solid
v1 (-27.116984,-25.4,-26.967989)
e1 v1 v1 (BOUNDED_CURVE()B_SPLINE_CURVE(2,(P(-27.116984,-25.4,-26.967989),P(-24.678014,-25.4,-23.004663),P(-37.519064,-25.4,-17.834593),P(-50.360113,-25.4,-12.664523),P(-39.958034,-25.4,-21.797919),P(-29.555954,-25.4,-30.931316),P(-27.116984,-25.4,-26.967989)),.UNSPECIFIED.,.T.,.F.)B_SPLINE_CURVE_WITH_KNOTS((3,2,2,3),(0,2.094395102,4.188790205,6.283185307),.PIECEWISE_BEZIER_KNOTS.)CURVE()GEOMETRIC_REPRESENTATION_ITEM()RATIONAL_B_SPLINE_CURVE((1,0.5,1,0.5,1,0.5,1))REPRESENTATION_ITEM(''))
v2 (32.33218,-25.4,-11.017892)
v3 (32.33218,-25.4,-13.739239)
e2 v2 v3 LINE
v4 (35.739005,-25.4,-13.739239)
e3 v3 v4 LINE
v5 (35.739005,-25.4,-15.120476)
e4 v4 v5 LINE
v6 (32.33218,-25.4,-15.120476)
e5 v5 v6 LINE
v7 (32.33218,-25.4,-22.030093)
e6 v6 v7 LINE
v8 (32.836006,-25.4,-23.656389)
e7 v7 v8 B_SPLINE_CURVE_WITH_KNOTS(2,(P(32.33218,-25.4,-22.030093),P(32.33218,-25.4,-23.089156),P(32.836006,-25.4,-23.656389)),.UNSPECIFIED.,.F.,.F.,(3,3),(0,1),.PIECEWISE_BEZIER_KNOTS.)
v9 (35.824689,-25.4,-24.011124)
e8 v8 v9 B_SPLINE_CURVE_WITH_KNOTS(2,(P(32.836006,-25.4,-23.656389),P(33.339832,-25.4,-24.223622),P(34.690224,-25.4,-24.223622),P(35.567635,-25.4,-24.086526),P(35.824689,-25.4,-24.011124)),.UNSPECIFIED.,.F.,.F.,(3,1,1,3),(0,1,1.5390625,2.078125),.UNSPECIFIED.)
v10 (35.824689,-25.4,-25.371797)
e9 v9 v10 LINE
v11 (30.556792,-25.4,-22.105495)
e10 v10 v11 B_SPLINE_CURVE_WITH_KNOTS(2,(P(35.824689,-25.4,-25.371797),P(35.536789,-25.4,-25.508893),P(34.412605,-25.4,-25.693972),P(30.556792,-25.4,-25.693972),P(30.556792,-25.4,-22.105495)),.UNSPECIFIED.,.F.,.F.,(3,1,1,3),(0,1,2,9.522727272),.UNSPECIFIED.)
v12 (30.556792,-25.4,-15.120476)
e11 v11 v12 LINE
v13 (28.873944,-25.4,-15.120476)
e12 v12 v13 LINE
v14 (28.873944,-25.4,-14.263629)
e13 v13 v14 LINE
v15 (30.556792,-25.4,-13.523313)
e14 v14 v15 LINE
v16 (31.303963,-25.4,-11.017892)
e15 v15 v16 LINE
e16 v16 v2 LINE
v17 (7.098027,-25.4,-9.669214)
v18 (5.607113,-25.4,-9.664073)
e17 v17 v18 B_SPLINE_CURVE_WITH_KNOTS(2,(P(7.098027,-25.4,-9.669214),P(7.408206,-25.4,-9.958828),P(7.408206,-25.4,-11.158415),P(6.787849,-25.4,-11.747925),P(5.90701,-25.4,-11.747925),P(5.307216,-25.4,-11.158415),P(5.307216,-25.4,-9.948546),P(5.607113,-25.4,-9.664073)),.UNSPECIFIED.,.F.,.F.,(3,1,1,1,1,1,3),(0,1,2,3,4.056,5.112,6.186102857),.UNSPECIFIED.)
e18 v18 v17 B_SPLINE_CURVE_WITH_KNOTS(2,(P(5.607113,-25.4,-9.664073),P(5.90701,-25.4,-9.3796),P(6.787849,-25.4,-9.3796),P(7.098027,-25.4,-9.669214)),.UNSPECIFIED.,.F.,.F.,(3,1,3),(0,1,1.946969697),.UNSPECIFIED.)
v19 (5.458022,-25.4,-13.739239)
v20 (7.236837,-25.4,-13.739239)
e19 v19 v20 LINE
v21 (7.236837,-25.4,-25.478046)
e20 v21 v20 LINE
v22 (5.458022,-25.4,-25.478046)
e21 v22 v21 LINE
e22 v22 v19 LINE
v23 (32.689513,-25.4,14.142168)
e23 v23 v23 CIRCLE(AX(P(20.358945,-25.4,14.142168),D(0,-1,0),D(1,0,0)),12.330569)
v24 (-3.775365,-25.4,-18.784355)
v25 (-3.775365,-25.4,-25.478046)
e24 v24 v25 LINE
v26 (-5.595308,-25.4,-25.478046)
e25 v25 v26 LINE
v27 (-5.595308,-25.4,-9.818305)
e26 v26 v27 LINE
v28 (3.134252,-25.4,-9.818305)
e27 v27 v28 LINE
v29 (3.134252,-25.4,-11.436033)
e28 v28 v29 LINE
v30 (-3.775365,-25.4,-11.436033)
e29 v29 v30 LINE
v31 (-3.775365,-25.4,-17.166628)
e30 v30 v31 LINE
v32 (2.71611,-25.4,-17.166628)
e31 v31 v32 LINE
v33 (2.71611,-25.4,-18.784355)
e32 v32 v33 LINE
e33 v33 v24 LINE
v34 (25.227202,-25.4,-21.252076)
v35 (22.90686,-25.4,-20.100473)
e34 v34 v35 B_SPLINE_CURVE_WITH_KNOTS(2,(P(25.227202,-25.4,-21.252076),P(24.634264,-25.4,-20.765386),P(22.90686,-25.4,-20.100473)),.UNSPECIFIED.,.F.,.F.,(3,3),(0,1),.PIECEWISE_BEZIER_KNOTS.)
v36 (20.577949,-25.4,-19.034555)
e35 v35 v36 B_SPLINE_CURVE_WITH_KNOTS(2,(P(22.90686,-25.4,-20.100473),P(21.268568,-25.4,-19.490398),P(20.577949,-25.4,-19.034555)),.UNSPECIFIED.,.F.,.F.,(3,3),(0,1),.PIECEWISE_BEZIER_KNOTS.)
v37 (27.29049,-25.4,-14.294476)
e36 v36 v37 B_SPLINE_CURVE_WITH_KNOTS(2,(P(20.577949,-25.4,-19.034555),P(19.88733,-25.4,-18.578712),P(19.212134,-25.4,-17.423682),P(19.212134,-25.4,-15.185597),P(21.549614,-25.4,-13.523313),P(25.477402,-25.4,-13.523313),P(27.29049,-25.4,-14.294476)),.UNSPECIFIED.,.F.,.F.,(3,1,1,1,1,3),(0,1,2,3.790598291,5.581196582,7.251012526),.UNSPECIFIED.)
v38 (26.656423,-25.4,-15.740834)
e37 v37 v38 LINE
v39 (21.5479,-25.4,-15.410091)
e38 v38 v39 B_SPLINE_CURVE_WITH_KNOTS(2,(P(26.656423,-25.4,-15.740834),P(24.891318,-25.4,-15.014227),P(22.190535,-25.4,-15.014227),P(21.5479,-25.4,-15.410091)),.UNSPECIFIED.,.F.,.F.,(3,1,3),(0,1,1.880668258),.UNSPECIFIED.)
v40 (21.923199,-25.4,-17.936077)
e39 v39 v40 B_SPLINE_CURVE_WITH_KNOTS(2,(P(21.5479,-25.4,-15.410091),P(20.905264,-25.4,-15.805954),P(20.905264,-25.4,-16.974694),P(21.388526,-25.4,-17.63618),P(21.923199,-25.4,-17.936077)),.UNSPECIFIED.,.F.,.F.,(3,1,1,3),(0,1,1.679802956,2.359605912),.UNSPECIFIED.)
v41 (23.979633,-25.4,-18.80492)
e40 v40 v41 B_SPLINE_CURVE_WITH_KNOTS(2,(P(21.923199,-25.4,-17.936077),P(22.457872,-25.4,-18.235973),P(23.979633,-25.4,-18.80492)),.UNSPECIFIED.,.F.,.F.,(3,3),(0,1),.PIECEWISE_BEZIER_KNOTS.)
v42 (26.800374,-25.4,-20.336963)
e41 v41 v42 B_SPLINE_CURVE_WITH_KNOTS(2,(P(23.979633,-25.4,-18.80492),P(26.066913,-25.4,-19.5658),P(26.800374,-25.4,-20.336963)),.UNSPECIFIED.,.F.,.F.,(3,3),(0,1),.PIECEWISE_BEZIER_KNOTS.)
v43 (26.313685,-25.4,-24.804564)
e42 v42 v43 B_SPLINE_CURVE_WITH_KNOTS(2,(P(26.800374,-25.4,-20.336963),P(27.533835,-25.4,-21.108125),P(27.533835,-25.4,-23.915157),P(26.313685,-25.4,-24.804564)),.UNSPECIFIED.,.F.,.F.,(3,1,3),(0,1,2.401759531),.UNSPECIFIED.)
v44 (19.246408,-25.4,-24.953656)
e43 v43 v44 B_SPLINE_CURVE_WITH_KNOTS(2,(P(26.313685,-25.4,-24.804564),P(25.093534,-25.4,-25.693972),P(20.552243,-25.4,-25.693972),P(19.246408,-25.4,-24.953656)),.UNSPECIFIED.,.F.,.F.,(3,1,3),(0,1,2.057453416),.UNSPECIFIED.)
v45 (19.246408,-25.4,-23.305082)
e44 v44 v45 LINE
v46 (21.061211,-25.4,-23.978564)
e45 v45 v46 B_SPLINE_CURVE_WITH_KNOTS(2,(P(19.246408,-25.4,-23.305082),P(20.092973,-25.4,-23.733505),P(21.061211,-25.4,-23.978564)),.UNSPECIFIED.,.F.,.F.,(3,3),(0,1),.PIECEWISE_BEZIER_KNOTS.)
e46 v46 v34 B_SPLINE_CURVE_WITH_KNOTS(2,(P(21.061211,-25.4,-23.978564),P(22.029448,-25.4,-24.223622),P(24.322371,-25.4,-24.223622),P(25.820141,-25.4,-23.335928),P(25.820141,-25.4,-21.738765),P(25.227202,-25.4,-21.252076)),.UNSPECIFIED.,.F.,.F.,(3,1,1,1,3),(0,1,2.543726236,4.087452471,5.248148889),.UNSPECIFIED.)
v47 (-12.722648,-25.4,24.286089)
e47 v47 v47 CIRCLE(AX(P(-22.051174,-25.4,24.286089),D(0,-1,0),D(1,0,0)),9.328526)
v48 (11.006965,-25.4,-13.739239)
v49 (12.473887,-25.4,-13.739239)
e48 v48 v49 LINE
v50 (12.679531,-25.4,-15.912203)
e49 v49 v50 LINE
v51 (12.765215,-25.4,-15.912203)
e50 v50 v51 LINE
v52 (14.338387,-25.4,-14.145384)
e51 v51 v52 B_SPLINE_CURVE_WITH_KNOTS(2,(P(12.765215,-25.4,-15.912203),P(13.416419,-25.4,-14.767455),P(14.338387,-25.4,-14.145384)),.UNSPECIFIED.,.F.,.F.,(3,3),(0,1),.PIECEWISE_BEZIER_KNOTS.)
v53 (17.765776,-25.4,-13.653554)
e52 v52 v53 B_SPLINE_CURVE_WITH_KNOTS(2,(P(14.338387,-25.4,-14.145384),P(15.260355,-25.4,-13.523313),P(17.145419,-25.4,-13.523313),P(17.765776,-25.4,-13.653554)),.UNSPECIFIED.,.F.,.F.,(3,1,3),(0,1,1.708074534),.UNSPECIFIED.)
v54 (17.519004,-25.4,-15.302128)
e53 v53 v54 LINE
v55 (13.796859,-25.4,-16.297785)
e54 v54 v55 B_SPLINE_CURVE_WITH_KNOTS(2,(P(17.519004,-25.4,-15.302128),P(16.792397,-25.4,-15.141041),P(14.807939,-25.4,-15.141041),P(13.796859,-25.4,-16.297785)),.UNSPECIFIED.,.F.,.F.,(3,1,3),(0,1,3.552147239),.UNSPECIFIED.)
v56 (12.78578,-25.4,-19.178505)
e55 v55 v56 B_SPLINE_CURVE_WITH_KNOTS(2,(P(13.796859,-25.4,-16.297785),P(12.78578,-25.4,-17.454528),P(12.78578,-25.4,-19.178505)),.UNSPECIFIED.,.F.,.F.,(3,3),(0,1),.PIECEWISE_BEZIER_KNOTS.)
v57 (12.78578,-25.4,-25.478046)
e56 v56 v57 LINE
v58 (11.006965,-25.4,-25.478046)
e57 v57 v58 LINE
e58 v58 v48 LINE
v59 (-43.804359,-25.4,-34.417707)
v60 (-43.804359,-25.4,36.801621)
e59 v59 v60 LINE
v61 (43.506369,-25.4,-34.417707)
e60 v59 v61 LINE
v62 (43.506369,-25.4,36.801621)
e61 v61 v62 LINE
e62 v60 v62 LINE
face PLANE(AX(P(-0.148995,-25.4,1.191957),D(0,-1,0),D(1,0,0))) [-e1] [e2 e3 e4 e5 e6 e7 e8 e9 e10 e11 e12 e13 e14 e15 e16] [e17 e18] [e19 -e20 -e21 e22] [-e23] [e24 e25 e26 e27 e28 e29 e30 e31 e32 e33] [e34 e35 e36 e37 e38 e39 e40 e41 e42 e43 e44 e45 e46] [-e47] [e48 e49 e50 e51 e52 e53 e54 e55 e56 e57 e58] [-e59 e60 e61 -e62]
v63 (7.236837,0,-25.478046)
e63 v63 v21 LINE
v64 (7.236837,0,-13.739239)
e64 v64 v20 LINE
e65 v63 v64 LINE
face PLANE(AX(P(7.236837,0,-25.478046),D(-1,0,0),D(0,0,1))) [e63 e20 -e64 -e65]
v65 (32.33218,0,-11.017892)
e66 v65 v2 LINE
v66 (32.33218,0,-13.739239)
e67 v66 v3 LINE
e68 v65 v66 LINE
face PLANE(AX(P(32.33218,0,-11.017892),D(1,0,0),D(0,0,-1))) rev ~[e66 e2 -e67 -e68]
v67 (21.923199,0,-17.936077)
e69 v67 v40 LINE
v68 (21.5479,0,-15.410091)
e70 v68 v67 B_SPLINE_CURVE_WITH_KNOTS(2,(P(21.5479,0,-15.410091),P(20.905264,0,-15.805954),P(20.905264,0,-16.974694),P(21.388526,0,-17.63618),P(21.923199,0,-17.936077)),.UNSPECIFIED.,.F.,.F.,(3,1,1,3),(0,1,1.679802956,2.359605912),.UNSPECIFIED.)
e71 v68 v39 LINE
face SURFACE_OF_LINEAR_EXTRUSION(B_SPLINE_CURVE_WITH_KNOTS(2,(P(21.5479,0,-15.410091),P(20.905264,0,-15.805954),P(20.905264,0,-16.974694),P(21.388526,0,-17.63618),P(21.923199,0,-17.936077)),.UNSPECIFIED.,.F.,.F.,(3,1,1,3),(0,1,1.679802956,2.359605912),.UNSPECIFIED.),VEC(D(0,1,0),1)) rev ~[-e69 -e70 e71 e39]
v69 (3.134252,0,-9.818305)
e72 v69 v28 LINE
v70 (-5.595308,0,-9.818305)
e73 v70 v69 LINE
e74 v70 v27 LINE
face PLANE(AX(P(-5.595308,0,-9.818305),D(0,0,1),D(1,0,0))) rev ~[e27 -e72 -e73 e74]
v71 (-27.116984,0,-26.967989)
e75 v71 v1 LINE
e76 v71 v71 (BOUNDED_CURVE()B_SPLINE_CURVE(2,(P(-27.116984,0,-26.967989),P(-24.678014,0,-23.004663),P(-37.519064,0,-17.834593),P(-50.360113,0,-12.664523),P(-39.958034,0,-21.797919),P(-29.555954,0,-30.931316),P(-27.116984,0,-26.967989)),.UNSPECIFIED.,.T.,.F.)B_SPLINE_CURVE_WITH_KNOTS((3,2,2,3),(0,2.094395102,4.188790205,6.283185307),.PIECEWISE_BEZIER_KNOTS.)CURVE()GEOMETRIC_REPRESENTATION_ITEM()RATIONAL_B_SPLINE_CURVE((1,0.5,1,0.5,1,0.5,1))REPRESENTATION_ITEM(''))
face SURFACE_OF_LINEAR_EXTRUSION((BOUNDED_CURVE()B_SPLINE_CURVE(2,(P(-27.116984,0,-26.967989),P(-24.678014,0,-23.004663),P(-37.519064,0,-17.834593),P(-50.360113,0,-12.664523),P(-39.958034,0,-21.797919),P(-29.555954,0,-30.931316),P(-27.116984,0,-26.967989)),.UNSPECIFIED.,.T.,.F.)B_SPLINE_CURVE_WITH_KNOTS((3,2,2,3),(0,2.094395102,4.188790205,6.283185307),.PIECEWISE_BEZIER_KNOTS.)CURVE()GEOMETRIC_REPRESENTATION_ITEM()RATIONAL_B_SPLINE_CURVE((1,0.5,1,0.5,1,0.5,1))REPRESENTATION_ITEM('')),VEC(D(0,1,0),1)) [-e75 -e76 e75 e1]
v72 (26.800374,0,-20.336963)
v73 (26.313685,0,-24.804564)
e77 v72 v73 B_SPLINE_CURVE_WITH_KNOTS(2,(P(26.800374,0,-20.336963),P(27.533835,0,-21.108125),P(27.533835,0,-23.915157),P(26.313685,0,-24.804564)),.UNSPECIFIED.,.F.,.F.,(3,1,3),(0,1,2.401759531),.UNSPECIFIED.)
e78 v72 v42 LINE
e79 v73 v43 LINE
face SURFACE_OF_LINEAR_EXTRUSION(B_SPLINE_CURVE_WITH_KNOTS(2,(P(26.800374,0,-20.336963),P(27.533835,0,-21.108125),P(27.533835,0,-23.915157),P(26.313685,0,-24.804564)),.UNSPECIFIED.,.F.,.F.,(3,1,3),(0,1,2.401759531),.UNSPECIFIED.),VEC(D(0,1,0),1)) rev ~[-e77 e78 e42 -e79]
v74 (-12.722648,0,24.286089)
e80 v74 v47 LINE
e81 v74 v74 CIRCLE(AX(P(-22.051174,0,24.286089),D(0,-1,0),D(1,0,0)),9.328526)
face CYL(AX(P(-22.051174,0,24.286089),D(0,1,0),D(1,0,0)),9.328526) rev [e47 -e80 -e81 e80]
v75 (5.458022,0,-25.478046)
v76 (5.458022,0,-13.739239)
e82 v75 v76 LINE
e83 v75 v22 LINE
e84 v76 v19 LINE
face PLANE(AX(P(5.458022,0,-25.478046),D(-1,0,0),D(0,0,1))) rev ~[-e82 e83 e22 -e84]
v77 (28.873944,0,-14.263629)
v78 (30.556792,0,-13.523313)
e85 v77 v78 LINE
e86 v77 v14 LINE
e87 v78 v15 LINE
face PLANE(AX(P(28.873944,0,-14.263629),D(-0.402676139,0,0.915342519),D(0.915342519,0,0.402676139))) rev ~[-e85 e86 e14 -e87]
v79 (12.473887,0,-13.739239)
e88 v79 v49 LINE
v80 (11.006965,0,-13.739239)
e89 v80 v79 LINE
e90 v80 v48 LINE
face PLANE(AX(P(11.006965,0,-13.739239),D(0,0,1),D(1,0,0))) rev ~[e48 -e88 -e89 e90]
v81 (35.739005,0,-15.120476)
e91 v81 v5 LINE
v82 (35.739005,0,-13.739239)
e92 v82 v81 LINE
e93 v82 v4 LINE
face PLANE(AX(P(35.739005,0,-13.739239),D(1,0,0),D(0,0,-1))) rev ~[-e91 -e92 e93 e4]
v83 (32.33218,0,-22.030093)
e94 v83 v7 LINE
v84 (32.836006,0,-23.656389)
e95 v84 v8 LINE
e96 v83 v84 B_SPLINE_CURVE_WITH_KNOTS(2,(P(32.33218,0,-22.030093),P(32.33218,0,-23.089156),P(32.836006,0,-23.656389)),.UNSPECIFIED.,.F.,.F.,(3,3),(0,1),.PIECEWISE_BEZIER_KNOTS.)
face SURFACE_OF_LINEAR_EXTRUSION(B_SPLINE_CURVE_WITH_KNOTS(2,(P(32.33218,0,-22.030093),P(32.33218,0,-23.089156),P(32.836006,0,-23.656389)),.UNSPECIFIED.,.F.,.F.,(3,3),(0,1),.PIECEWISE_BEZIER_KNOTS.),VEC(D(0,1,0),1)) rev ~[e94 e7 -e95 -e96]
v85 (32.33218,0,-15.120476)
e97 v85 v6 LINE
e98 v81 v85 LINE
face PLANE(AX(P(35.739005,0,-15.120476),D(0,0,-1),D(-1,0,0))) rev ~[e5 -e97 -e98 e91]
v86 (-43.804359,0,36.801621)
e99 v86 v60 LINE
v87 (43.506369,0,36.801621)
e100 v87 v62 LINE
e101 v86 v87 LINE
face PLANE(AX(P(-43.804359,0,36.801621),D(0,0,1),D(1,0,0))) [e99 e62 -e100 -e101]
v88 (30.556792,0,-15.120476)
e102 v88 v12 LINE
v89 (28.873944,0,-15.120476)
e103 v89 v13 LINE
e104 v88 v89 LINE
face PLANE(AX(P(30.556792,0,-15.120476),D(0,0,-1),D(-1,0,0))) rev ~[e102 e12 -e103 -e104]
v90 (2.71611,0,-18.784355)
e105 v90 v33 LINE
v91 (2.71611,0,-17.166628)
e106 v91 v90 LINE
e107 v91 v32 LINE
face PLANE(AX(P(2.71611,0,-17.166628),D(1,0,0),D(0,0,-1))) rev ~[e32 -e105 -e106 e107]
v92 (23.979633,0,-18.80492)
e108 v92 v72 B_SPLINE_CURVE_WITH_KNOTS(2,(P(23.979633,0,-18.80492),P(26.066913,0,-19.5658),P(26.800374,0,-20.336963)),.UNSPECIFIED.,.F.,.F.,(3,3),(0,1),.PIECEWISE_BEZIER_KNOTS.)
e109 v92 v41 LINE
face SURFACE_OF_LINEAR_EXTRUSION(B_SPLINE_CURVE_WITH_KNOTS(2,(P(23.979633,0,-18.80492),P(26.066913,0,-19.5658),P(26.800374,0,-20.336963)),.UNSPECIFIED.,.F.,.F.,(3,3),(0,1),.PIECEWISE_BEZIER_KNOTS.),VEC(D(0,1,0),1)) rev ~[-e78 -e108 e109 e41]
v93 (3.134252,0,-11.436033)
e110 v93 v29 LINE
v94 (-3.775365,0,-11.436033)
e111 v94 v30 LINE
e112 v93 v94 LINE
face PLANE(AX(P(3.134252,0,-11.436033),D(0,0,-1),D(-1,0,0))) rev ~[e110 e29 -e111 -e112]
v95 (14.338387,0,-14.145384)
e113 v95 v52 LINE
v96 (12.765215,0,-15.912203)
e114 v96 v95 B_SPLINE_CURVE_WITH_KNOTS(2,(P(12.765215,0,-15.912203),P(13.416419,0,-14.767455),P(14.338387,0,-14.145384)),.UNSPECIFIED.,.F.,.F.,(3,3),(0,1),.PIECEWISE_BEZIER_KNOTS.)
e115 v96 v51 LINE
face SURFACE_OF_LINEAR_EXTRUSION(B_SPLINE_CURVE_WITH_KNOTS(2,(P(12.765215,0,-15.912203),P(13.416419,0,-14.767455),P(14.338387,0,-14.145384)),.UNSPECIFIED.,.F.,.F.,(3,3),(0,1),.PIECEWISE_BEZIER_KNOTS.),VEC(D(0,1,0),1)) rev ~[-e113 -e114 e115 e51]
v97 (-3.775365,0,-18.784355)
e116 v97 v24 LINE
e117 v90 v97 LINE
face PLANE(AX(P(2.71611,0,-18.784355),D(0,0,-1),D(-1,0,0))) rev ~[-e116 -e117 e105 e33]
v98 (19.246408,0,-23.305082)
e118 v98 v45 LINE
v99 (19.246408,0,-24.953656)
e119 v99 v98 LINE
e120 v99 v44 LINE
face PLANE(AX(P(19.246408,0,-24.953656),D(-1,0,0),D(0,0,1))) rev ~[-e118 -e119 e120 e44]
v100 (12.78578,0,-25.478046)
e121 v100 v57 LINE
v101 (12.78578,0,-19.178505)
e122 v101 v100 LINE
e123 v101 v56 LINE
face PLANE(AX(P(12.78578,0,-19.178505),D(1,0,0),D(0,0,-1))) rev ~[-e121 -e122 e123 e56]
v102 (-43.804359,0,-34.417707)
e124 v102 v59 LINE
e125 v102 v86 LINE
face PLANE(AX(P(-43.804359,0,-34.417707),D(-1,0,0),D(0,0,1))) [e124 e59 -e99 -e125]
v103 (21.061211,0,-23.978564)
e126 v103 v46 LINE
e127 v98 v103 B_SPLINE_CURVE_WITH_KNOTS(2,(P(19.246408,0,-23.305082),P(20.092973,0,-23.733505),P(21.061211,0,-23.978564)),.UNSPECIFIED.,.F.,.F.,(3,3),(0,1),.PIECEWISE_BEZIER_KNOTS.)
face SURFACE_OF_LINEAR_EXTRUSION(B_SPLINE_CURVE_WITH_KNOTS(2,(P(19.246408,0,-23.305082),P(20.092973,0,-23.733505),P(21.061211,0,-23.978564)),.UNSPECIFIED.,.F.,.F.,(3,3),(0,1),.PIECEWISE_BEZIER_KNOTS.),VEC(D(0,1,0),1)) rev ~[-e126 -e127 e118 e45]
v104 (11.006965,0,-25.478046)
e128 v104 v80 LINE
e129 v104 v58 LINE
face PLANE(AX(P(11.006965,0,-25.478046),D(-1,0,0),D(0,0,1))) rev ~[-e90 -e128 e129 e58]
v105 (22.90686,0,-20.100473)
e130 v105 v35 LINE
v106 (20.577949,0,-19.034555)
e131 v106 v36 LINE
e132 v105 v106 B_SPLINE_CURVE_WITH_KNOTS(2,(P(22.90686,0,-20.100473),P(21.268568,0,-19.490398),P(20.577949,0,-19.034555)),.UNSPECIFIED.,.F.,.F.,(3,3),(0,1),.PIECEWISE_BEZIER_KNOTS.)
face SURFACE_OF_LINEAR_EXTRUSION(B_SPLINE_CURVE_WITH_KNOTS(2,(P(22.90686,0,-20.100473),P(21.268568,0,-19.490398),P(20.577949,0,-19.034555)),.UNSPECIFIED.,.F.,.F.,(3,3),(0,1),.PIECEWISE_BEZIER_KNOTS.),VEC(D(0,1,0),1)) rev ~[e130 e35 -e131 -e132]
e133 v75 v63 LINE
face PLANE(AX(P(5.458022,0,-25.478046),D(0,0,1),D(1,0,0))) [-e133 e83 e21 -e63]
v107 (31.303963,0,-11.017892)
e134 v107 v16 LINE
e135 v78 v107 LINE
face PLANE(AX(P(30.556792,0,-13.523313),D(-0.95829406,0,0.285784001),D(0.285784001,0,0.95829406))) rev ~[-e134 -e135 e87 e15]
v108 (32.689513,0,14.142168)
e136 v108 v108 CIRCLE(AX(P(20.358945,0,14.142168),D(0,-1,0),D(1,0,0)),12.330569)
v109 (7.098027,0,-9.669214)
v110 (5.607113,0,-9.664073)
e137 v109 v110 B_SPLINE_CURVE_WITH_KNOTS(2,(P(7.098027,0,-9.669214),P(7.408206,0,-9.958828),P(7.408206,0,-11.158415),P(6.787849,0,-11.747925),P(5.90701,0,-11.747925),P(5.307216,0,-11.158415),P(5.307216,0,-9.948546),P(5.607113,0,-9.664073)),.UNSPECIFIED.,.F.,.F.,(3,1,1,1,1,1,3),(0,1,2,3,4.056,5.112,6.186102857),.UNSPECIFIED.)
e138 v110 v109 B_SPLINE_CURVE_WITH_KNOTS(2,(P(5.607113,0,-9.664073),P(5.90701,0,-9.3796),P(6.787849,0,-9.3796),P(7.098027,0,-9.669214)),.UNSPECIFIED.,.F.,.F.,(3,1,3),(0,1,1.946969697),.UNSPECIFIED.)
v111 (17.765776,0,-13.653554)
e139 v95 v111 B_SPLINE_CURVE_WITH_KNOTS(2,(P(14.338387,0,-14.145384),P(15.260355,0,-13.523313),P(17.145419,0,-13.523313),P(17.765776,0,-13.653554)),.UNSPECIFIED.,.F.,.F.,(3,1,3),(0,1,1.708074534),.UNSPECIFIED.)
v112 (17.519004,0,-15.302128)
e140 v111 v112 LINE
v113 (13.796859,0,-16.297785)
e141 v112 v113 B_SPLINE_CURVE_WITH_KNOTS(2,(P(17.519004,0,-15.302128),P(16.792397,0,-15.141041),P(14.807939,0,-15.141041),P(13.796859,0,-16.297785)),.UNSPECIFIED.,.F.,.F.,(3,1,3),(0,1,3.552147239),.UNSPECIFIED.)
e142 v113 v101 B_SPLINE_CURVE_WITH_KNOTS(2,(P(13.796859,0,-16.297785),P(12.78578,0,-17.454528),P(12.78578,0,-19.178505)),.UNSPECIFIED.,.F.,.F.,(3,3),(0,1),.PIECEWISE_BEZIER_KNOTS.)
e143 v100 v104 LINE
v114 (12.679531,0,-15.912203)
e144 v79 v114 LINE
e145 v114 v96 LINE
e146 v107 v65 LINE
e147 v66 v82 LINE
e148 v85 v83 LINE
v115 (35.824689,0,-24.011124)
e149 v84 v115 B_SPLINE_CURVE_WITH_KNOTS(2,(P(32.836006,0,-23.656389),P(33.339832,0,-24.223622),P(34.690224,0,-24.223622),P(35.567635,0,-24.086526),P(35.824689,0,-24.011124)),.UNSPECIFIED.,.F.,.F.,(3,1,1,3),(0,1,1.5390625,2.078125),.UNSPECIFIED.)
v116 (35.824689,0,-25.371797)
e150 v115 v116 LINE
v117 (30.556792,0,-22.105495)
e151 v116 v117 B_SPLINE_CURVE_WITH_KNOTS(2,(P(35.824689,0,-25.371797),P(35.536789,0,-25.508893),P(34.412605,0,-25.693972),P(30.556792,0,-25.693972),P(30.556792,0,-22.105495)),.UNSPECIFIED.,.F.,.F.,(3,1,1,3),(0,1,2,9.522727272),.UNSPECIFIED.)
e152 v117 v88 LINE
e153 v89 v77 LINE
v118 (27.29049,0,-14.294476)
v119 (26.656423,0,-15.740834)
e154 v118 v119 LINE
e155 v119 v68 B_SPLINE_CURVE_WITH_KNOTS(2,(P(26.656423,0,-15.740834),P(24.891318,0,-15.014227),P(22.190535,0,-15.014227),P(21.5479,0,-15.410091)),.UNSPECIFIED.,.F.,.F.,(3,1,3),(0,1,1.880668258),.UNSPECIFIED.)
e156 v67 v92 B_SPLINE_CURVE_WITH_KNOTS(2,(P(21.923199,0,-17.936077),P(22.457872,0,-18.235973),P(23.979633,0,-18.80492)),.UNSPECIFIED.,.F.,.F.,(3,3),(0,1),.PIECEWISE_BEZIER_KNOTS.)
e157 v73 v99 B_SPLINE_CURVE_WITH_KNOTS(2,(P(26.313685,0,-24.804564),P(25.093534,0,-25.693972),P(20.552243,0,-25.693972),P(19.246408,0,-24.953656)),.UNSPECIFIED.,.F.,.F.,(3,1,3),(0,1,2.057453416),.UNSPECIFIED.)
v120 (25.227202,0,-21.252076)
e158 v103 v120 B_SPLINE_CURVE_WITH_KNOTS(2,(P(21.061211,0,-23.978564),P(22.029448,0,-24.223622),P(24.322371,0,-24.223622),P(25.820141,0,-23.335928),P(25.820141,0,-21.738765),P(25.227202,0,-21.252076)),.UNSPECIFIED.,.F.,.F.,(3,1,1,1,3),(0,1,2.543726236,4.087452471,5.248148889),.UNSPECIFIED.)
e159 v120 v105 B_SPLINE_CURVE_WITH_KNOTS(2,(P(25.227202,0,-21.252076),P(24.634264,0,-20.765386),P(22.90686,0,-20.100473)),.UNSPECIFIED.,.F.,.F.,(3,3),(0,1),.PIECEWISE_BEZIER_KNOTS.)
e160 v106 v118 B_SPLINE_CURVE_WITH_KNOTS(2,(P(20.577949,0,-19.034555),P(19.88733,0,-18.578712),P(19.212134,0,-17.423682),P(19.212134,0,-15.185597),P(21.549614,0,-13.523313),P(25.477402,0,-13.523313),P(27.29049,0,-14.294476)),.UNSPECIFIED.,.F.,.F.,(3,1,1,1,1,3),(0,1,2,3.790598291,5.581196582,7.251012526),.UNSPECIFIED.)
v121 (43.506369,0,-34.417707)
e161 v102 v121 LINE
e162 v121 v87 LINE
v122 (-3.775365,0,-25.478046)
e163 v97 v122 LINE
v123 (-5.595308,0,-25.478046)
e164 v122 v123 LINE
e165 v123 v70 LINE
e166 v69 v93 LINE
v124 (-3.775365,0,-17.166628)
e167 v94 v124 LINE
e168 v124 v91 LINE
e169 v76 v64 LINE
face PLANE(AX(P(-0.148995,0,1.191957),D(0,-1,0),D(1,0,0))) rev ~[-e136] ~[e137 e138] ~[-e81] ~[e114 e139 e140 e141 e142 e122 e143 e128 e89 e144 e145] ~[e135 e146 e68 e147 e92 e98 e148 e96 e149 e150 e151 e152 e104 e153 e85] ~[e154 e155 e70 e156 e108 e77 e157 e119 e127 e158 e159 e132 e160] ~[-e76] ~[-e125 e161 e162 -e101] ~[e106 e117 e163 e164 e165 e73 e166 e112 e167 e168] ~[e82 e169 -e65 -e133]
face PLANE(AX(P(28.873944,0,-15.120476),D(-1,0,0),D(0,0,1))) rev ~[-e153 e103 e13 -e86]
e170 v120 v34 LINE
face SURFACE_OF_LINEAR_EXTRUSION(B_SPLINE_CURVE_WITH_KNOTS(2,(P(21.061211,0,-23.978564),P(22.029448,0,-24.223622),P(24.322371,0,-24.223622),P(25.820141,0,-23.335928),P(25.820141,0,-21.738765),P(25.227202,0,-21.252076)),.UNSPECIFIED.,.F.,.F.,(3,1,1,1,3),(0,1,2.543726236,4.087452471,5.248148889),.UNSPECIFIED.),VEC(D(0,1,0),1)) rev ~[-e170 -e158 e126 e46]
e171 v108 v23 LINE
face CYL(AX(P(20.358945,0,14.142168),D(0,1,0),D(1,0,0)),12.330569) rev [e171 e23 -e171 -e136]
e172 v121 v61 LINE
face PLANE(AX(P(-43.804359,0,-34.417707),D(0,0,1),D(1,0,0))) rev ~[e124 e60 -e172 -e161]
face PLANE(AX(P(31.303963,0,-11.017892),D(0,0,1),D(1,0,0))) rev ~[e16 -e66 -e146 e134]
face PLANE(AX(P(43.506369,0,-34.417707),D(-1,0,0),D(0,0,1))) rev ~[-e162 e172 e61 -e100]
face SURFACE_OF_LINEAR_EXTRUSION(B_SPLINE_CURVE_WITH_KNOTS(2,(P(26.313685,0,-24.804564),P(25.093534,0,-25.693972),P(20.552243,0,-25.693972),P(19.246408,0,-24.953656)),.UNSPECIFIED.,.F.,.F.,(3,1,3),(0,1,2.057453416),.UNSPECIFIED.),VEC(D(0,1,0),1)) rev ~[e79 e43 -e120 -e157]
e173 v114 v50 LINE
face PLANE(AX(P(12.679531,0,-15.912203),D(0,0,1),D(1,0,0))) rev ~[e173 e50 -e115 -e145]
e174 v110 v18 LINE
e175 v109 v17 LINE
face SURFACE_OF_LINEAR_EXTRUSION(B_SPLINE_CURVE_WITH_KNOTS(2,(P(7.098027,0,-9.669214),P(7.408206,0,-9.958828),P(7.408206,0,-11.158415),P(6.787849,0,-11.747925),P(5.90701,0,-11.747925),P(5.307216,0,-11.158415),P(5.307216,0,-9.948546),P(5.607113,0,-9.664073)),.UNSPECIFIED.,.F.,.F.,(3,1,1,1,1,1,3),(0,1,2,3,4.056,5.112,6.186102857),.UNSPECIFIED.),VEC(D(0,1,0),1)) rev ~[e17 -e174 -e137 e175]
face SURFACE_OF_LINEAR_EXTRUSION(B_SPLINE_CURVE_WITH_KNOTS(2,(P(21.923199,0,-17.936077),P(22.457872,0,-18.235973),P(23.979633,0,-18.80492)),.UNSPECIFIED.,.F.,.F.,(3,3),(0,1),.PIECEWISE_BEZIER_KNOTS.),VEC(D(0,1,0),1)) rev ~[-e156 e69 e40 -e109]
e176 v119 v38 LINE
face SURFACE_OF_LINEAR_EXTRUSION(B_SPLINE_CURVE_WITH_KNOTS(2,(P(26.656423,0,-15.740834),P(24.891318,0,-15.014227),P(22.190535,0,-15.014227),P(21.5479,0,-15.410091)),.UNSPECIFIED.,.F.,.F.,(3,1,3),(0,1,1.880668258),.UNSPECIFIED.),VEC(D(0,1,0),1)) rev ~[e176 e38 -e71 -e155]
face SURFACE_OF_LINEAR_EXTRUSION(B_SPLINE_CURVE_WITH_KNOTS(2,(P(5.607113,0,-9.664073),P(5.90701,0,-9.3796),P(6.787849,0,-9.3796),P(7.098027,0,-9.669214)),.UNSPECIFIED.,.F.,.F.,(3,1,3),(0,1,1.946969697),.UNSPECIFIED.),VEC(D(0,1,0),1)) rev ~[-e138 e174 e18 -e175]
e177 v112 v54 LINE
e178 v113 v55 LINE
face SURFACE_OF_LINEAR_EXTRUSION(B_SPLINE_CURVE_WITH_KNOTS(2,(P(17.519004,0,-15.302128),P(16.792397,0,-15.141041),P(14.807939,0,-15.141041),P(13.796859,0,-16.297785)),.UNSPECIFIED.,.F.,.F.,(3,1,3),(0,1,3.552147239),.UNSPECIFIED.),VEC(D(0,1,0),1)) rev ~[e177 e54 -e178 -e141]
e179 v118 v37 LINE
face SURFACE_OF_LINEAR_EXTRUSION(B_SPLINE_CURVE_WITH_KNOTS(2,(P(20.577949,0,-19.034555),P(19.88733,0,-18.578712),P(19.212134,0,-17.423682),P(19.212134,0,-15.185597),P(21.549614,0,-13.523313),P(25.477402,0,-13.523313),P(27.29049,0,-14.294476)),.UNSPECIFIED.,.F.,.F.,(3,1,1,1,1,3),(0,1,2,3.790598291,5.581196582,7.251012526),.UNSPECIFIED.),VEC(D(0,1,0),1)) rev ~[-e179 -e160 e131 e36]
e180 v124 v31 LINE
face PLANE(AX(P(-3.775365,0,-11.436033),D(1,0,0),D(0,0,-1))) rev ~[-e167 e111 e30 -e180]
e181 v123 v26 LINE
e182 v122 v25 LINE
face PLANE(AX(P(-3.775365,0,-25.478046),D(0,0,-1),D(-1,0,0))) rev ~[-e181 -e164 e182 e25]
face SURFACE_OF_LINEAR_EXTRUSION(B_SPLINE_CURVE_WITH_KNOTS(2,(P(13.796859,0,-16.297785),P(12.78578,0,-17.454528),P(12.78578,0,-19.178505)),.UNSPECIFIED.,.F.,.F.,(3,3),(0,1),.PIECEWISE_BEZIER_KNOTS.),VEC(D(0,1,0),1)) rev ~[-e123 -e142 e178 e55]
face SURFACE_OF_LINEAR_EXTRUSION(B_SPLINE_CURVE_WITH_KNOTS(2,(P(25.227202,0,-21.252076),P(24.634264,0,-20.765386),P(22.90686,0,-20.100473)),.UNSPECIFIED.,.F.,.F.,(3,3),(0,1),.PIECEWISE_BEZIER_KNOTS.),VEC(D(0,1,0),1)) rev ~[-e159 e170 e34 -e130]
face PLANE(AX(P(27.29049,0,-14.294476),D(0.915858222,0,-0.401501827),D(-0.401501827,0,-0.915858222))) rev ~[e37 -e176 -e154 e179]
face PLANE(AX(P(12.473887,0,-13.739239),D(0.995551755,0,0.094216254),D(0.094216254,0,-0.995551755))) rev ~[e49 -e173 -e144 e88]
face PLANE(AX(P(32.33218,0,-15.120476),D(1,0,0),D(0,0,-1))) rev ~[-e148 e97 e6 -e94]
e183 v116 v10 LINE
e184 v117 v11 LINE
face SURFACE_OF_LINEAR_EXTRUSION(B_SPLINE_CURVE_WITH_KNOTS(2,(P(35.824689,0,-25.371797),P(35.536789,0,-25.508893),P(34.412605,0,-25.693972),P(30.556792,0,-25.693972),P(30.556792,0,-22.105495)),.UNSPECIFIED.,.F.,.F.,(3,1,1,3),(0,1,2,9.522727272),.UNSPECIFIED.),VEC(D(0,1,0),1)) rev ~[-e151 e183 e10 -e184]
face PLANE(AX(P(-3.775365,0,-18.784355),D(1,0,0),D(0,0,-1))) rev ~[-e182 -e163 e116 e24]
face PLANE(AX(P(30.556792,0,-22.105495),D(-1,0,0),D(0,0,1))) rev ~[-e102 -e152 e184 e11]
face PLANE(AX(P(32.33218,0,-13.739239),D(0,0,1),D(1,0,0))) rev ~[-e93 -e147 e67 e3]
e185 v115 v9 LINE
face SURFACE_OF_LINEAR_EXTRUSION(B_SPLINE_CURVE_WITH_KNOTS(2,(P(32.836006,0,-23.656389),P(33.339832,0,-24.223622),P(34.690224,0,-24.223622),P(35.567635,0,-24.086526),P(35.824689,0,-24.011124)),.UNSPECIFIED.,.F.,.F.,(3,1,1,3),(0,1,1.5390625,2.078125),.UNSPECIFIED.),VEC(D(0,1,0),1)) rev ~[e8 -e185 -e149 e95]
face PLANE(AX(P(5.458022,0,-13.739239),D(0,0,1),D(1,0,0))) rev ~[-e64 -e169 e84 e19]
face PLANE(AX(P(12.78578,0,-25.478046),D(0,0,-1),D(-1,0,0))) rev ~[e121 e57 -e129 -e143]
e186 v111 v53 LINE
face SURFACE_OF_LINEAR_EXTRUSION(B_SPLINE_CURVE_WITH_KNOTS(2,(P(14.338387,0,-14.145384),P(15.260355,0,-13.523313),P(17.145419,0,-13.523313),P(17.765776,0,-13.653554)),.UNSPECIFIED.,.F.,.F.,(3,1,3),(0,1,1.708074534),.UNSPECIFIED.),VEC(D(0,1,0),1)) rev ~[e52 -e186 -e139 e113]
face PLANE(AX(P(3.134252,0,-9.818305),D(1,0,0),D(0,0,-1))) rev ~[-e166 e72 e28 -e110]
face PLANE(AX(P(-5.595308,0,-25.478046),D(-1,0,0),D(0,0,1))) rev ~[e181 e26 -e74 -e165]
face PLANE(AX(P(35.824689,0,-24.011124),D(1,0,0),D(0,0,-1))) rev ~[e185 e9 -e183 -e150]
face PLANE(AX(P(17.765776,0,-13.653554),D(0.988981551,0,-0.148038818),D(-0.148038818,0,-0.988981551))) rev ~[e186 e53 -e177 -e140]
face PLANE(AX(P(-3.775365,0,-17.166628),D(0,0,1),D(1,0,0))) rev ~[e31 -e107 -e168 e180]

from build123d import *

# Parameters (mm, degrees)
F0_W     = 87.3107276857
F0_H     = 71.2193287909
F0_W_2   = 1.7788149683
F0_H_2   = 11.7388078353
F0_R     = 9.3285263882
F0_R_2   = 12.3305687845
F1_DEPTH = 25.4


with BuildPart() as f1:
    # F0 (on Front) → F1 (new body)
    with BuildSketch(Plane.XZ):
        with Locations((-0.1489948481, 1.1919569224)):
            Rectangle(F0_W, F0_H)
        with BuildLine():
            add(Edge.make_bspline(
                [(-27.116984129, -26.9679892808), (-24.67801378, -23.0046630593), (-37.5190635812, -17.8345930175), (-50.3601133823, -12.6645229757), (-39.9580339301, -21.797919239), (-29.5559544779, -30.9313155023), (-27.116984129, -26.9679892808)],
                knots=[0, 0, 0, 2.0943951024, 2.0943951024, 4.1887902048, 4.1887902048, 6.2831853072, 6.2831853072, 6.2831853072], degree=2, weights=[1, 0.5, 1, 0.5, 1, 0.5, 1]))
        make_face(mode=Mode.SUBTRACT)
        Polygon((-3.7753647961, -18.7843553795), (-3.7753647961, -25.4780463874), (-5.5953084342, -25.4780463874), (-5.5953084342, -9.8183053657), (3.1342517282, -9.8183053657), (3.1342517282, -11.436033044), (-3.7753647961, -11.436033044), (-3.7753647961, -17.1666277011), (2.716110252, -17.1666277011), (2.716110252, -18.7843553795), align=None, mode=Mode.SUBTRACT)
        with Locations((6.3474290554, -19.6086424698)):
            Rectangle(F0_W_2, F0_H_2, mode=Mode.SUBTRACT)
        with BuildLine():
            add(Edge.make_bspline(
                [(14.3383868563, -14.1453841663), (15.2603545373, -13.5233130358), (16.3639738433, -13.5233130358)],
                knots=[0, 0, 0, 1, 1, 1], degree=2))
            add(Edge.make_bspline(
                [(16.3639738433, -13.5233130358), (17.1454185693, -13.5233130358), (17.7657760052, -13.6535538234)],
                knots=[0, 0, 0, 1, 1, 1], degree=2))
            Line((17.7657760052, -13.6535538234), (17.5190039865, -15.3021280041))
            add(Edge.make_bspline(
                [(17.5190039865, -15.3021280041), (16.7923974869, -15.1410407141), (16.2337330556, -15.1410407141)],
                knots=[0, 0, 0, 1, 1, 1], degree=2))
            add(Edge.make_bspline(
                [(16.2337330556, -15.1410407141), (14.8079391697, -15.1410407141), (13.7968593707, -16.2977845519)],
                knots=[0, 0, 0, 1, 1, 1], degree=2))
            add(Edge.make_bspline(
                [(13.7968593707, -16.2977845519), (12.7857795718, -17.4545283897), (12.7857795718, -19.1785051316)],
                knots=[0, 0, 0, 1, 1, 1], degree=2))
            Line((12.7857795718, -19.1785051316), (12.7857795718, -25.4780463874))
            Line((12.7857795718, -25.4780463874), (11.0069646034, -25.4780463874))
            Line((11.0069646034, -25.4780463874), (11.0069646034, -13.7392385522))
            Line((11.0069646034, -13.7392385522), (12.4738871592, -13.7392385522))
            Line((12.4738871592, -13.7392385522), (12.6795305081, -15.9122032726))
            Line((12.6795305081, -15.9122032726), (12.7652152369, -15.9122032726))
            add(Edge.make_bspline(
                [(12.7652152369, -15.9122032726), (13.4164191752, -14.7674552969), (14.3383868563, -14.1453841663)],
                knots=[0, 0, 0, 1, 1, 1], degree=2))
        make_face(mode=Mode.SUBTRACT)
        with BuildLine():
            add(Edge.make_bspline(
                [(26.800373802, -20.336962664), (27.5338350798, -21.1081252225), (27.5338350798, -22.2768649223)],
                knots=[0, 0, 0, 1, 1, 1], degree=2))
            add(Edge.make_bspline(
                [(27.5338350798, -22.2768649223), (27.5338350798, -23.9151569355), (26.3136845428, -24.8045644197)],
                knots=[0, 0, 0, 1, 1, 1], degree=2))
            add(Edge.make_bspline(
                [(26.3136845428, -24.8045644197), (25.0935340058, -25.6939719038), (22.8862953938, -25.6939719038)],
                knots=[0, 0, 0, 1, 1, 1], degree=2))
            add(Edge.make_bspline(
                [(22.8862953938, -25.6939719038), (20.5522433834, -25.6939719038), (19.2464081176, -24.9536558476)],
                knots=[0, 0, 0, 1, 1, 1], degree=2))
            Line((19.2464081176, -24.9536558476), (19.2464081176, -23.305081667))
            add(Edge.make_bspline(
                [(19.2464081176, -23.305081667), (20.0929732374, -23.7335053106), (21.061210672, -23.9785636348)],
                knots=[0, 0, 0, 1, 1, 1], degree=2))
            add(Edge.make_bspline(
                [(21.061210672, -23.9785636348), (22.0294481066, -24.2236219589), (22.9308514528, -24.2236219589)],
                knots=[0, 0, 0, 1, 1, 1], degree=2))
            add(Edge.make_bspline(
                [(22.9308514528, -24.2236219589), (24.3223714472, -24.2236219589), (25.0712559763, -23.7797750641)],
                knots=[0, 0, 0, 1, 1, 1], degree=2))
            add(Edge.make_bspline(
                [(25.0712559763, -23.7797750641), (25.8201405054, -23.3359281693), (25.8201405054, -22.4242426557)],
                knots=[0, 0, 0, 1, 1, 1], degree=2))
            add(Edge.make_bspline(
                [(25.8201405054, -22.4242426557), (25.8201405054, -21.7387648259), (25.2272021826, -21.2520755667)],
                knots=[0, 0, 0, 1, 1, 1], degree=2))
            add(Edge.make_bspline(
                [(25.2272021826, -21.2520755667), (24.6342638598, -20.7653863076), (22.9068597287, -20.1004728127)],
                knots=[0, 0, 0, 1, 1, 1], degree=2))
            add(Edge.make_bspline(
                [(22.9068597287, -20.1004728127), (21.2685677155, -19.4903975442), (20.577948802, -19.0345547873)],
                knots=[0, 0, 0, 1, 1, 1], degree=2))
            add(Edge.make_bspline(
                [(20.577948802, -19.0345547873), (19.8873298885, -18.5787120305), (19.5497320573, -18.0011969589)],
                knots=[0, 0, 0, 1, 1, 1], degree=2))
            add(Edge.make_bspline(
                [(19.5497320573, -18.0011969589), (19.2121342261, -17.4236818873), (19.2121342261, -16.6216728265)],
                knots=[0, 0, 0, 1, 1, 1], degree=2))
            add(Edge.make_bspline(
                [(19.2121342261, -16.6216728265), (19.2121342261, -15.185596773), (20.3808739259, -14.3544549044)],
                knots=[0, 0, 0, 1, 1, 1], degree=2))
            add(Edge.make_bspline(
                [(20.3808739259, -14.3544549044), (21.5496136257, -13.5233130358), (23.5820553911, -13.5233130358)],
                knots=[0, 0, 0, 1, 1, 1], degree=2))
            add(Edge.make_bspline(
                [(23.5820553911, -13.5233130358), (25.4774015905, -13.5233130358), (27.2904904503, -14.2944755943)],
                knots=[0, 0, 0, 1, 1, 1], degree=2))
            Line((27.2904904503, -14.2944755943), (26.6564234577, -15.7408338152))
            add(Edge.make_bspline(
                [(26.6564234577, -15.7408338152), (24.891318046, -15.0142273156), (23.4552419926, -15.0142273156)],
                knots=[0, 0, 0, 1, 1, 1], degree=2))
            add(Edge.make_bspline(
                [(23.4552419926, -15.0142273156), (22.1905353966, -15.0142273156), (21.5478999311, -15.4100907623)],
                knots=[0, 0, 0, 1, 1, 1], degree=2))
            add(Edge.make_bspline(
                [(21.5478999311, -15.4100907623), (20.9052644657, -15.805954209), (20.9052644657, -16.5017142062)],
                knots=[0, 0, 0, 1, 1, 1], degree=2))
            add(Edge.make_bspline(
                [(20.9052644657, -16.5017142062), (20.9052644657, -16.9746939088), (21.1468954007, -17.3054369617)],
                knots=[0, 0, 0, 1, 1, 1], degree=2))
            add(Edge.make_bspline(
                [(21.1468954007, -17.3054369617), (21.3885263357, -17.6361800146), (21.923199043, -17.9360765651)],
                knots=[0, 0, 0, 1, 1, 1], degree=2))
            add(Edge.make_bspline(
                [(21.923199043, -17.9360765651), (22.4578717502, -18.2359731156), (23.9796325323, -18.8049197144)],
                knots=[0, 0, 0, 1, 1, 1], degree=2))
            add(Edge.make_bspline(
                [(23.9796325323, -18.8049197144), (26.0669125241, -19.5658001054), (26.800373802, -20.336962664)],
                knots=[0, 0, 0, 1, 1, 1], degree=2))
        make_face(mode=Mode.SUBTRACT)
        with BuildLine():
            add(Edge.make_bspline(
                [(32.8360060933, -23.6563890547), (33.3398322982, -24.2236219589), (34.2172439204, -24.2236219589)],
                knots=[0, 0, 0, 1, 1, 1], degree=2))
            add(Edge.make_bspline(
                [(34.2172439204, -24.2236219589), (34.6902236229, -24.2236219589), (35.128929434, -24.1550741759)],
                knots=[0, 0, 0, 1, 1, 1], degree=2))
            add(Edge.make_bspline(
                [(35.128929434, -24.1550741759), (35.5676352451, -24.0865263929), (35.8246894312, -24.0111238317)],
                knots=[0, 0, 0, 1, 1, 1], degree=2))
            Line((35.8246894312, -24.0111238317), (35.8246894312, -25.3717973238))
            add(Edge.make_bspline(
                [(35.8246894312, -25.3717973238), (35.5367887427, -25.5088928898), (34.9746969223, -25.6014323968)],
                knots=[0, 0, 0, 1, 1, 1], degree=2))
            add(Edge.make_bspline(
                [(34.9746969223, -25.6014323968), (34.4126051019, -25.6939719038), (33.9601897342, -25.6939719038)],
                knots=[0, 0, 0, 1, 1, 1], degree=2))
            add(Edge.make_bspline(
                [(33.9601897342, -25.6939719038), (30.5567923092, -25.6939719038), (30.5567923092, -22.1054954648)],
                knots=[0, 0, 0, 1, 1, 1], degree=2))
            Line((30.5567923092, -22.1054954648), (30.5567923092, -15.1204763792))
            Line((30.5567923092, -15.1204763792), (28.8739442371, -15.1204763792))
            Line((28.8739442371, -15.1204763792), (28.8739442371, -14.263629092))
            Line((28.8739442371, -14.263629092), (30.5567923092, -13.5233130358))
            Line((30.5567923092, -13.5233130358), (31.3039631437, -11.0178915679))
            Line((31.3039631437, -11.0178915679), (32.3321798884, -11.0178915679))
            Line((32.3321798884, -11.0178915679), (32.3321798884, -13.7392385522))
            Line((32.3321798884, -13.7392385522), (35.7390047025, -13.7392385522))
            Line((35.7390047025, -13.7392385522), (35.7390047025, -15.1204763792))
            Line((35.7390047025, -15.1204763792), (32.3321798884, -15.1204763792))
            Line((32.3321798884, -15.1204763792), (32.3321798884, -22.0300929036))
            add(Edge.make_bspline(
                [(32.3321798884, -22.0300929036), (32.3321798884, -23.0891561506), (32.8360060933, -23.6563890547)],
                knots=[0, 0, 0, 1, 1, 1], degree=2))
        make_face(mode=Mode.SUBTRACT)
        with BuildLine():
            add(Edge.make_bspline(
                [(5.6071129992, -11.4531699898), (5.3072164487, -11.158414523), (5.3072164487, -10.5586214219)],
                knots=[0, 0, 0, 1, 1, 1], degree=2))
            add(Edge.make_bspline(
                [(5.3072164487, -10.5586214219), (5.3072164487, -9.9485461534), (5.6071129992, -9.664072854)],
                knots=[0, 0, 0, 1, 1, 1], degree=2))
            add(Edge.make_bspline(
                [(5.6071129992, -9.664072854), (5.9070095497, -9.3795995547), (6.3594249174, -9.3795995547)],
                knots=[0, 0, 0, 1, 1, 1], degree=2))
            add(Edge.make_bspline(
                [(6.3594249174, -9.3795995547), (6.787848561, -9.3795995547), (7.098027279, -9.6692139377)],
                knots=[0, 0, 0, 1, 1, 1], degree=2))
            add(Edge.make_bspline(
                [(7.098027279, -9.6692139377), (7.408205997, -9.9588283208), (7.408205997, -10.5586214219)],
                knots=[0, 0, 0, 1, 1, 1], degree=2))
            add(Edge.make_bspline(
                [(7.408205997, -10.5586214219), (7.408205997, -11.158414523), (7.098027279, -11.4531699898)],
                knots=[0, 0, 0, 1, 1, 1], degree=2))
            add(Edge.make_bspline(
                [(7.098027279, -11.4531699898), (6.787848561, -11.7479254566), (6.3594249174, -11.7479254566)],
                knots=[0, 0, 0, 1, 1, 1], degree=2))
            add(Edge.make_bspline(
                [(6.3594249174, -11.7479254566), (5.9070095497, -11.7479254566), (5.6071129992, -11.4531699898)],
                knots=[0, 0, 0, 1, 1, 1], degree=2))
        make_face(mode=Mode.SUBTRACT)
        with Locations((-22.0511741936, 24.286089465)):
            Circle(F0_R, mode=Mode.SUBTRACT)
        with Locations((20.3589446885, 14.1421683438)):
            Circle(F0_R_2, mode=Mode.SUBTRACT)
    extrude(amount=F1_DEPTH)


solid = f1.part
